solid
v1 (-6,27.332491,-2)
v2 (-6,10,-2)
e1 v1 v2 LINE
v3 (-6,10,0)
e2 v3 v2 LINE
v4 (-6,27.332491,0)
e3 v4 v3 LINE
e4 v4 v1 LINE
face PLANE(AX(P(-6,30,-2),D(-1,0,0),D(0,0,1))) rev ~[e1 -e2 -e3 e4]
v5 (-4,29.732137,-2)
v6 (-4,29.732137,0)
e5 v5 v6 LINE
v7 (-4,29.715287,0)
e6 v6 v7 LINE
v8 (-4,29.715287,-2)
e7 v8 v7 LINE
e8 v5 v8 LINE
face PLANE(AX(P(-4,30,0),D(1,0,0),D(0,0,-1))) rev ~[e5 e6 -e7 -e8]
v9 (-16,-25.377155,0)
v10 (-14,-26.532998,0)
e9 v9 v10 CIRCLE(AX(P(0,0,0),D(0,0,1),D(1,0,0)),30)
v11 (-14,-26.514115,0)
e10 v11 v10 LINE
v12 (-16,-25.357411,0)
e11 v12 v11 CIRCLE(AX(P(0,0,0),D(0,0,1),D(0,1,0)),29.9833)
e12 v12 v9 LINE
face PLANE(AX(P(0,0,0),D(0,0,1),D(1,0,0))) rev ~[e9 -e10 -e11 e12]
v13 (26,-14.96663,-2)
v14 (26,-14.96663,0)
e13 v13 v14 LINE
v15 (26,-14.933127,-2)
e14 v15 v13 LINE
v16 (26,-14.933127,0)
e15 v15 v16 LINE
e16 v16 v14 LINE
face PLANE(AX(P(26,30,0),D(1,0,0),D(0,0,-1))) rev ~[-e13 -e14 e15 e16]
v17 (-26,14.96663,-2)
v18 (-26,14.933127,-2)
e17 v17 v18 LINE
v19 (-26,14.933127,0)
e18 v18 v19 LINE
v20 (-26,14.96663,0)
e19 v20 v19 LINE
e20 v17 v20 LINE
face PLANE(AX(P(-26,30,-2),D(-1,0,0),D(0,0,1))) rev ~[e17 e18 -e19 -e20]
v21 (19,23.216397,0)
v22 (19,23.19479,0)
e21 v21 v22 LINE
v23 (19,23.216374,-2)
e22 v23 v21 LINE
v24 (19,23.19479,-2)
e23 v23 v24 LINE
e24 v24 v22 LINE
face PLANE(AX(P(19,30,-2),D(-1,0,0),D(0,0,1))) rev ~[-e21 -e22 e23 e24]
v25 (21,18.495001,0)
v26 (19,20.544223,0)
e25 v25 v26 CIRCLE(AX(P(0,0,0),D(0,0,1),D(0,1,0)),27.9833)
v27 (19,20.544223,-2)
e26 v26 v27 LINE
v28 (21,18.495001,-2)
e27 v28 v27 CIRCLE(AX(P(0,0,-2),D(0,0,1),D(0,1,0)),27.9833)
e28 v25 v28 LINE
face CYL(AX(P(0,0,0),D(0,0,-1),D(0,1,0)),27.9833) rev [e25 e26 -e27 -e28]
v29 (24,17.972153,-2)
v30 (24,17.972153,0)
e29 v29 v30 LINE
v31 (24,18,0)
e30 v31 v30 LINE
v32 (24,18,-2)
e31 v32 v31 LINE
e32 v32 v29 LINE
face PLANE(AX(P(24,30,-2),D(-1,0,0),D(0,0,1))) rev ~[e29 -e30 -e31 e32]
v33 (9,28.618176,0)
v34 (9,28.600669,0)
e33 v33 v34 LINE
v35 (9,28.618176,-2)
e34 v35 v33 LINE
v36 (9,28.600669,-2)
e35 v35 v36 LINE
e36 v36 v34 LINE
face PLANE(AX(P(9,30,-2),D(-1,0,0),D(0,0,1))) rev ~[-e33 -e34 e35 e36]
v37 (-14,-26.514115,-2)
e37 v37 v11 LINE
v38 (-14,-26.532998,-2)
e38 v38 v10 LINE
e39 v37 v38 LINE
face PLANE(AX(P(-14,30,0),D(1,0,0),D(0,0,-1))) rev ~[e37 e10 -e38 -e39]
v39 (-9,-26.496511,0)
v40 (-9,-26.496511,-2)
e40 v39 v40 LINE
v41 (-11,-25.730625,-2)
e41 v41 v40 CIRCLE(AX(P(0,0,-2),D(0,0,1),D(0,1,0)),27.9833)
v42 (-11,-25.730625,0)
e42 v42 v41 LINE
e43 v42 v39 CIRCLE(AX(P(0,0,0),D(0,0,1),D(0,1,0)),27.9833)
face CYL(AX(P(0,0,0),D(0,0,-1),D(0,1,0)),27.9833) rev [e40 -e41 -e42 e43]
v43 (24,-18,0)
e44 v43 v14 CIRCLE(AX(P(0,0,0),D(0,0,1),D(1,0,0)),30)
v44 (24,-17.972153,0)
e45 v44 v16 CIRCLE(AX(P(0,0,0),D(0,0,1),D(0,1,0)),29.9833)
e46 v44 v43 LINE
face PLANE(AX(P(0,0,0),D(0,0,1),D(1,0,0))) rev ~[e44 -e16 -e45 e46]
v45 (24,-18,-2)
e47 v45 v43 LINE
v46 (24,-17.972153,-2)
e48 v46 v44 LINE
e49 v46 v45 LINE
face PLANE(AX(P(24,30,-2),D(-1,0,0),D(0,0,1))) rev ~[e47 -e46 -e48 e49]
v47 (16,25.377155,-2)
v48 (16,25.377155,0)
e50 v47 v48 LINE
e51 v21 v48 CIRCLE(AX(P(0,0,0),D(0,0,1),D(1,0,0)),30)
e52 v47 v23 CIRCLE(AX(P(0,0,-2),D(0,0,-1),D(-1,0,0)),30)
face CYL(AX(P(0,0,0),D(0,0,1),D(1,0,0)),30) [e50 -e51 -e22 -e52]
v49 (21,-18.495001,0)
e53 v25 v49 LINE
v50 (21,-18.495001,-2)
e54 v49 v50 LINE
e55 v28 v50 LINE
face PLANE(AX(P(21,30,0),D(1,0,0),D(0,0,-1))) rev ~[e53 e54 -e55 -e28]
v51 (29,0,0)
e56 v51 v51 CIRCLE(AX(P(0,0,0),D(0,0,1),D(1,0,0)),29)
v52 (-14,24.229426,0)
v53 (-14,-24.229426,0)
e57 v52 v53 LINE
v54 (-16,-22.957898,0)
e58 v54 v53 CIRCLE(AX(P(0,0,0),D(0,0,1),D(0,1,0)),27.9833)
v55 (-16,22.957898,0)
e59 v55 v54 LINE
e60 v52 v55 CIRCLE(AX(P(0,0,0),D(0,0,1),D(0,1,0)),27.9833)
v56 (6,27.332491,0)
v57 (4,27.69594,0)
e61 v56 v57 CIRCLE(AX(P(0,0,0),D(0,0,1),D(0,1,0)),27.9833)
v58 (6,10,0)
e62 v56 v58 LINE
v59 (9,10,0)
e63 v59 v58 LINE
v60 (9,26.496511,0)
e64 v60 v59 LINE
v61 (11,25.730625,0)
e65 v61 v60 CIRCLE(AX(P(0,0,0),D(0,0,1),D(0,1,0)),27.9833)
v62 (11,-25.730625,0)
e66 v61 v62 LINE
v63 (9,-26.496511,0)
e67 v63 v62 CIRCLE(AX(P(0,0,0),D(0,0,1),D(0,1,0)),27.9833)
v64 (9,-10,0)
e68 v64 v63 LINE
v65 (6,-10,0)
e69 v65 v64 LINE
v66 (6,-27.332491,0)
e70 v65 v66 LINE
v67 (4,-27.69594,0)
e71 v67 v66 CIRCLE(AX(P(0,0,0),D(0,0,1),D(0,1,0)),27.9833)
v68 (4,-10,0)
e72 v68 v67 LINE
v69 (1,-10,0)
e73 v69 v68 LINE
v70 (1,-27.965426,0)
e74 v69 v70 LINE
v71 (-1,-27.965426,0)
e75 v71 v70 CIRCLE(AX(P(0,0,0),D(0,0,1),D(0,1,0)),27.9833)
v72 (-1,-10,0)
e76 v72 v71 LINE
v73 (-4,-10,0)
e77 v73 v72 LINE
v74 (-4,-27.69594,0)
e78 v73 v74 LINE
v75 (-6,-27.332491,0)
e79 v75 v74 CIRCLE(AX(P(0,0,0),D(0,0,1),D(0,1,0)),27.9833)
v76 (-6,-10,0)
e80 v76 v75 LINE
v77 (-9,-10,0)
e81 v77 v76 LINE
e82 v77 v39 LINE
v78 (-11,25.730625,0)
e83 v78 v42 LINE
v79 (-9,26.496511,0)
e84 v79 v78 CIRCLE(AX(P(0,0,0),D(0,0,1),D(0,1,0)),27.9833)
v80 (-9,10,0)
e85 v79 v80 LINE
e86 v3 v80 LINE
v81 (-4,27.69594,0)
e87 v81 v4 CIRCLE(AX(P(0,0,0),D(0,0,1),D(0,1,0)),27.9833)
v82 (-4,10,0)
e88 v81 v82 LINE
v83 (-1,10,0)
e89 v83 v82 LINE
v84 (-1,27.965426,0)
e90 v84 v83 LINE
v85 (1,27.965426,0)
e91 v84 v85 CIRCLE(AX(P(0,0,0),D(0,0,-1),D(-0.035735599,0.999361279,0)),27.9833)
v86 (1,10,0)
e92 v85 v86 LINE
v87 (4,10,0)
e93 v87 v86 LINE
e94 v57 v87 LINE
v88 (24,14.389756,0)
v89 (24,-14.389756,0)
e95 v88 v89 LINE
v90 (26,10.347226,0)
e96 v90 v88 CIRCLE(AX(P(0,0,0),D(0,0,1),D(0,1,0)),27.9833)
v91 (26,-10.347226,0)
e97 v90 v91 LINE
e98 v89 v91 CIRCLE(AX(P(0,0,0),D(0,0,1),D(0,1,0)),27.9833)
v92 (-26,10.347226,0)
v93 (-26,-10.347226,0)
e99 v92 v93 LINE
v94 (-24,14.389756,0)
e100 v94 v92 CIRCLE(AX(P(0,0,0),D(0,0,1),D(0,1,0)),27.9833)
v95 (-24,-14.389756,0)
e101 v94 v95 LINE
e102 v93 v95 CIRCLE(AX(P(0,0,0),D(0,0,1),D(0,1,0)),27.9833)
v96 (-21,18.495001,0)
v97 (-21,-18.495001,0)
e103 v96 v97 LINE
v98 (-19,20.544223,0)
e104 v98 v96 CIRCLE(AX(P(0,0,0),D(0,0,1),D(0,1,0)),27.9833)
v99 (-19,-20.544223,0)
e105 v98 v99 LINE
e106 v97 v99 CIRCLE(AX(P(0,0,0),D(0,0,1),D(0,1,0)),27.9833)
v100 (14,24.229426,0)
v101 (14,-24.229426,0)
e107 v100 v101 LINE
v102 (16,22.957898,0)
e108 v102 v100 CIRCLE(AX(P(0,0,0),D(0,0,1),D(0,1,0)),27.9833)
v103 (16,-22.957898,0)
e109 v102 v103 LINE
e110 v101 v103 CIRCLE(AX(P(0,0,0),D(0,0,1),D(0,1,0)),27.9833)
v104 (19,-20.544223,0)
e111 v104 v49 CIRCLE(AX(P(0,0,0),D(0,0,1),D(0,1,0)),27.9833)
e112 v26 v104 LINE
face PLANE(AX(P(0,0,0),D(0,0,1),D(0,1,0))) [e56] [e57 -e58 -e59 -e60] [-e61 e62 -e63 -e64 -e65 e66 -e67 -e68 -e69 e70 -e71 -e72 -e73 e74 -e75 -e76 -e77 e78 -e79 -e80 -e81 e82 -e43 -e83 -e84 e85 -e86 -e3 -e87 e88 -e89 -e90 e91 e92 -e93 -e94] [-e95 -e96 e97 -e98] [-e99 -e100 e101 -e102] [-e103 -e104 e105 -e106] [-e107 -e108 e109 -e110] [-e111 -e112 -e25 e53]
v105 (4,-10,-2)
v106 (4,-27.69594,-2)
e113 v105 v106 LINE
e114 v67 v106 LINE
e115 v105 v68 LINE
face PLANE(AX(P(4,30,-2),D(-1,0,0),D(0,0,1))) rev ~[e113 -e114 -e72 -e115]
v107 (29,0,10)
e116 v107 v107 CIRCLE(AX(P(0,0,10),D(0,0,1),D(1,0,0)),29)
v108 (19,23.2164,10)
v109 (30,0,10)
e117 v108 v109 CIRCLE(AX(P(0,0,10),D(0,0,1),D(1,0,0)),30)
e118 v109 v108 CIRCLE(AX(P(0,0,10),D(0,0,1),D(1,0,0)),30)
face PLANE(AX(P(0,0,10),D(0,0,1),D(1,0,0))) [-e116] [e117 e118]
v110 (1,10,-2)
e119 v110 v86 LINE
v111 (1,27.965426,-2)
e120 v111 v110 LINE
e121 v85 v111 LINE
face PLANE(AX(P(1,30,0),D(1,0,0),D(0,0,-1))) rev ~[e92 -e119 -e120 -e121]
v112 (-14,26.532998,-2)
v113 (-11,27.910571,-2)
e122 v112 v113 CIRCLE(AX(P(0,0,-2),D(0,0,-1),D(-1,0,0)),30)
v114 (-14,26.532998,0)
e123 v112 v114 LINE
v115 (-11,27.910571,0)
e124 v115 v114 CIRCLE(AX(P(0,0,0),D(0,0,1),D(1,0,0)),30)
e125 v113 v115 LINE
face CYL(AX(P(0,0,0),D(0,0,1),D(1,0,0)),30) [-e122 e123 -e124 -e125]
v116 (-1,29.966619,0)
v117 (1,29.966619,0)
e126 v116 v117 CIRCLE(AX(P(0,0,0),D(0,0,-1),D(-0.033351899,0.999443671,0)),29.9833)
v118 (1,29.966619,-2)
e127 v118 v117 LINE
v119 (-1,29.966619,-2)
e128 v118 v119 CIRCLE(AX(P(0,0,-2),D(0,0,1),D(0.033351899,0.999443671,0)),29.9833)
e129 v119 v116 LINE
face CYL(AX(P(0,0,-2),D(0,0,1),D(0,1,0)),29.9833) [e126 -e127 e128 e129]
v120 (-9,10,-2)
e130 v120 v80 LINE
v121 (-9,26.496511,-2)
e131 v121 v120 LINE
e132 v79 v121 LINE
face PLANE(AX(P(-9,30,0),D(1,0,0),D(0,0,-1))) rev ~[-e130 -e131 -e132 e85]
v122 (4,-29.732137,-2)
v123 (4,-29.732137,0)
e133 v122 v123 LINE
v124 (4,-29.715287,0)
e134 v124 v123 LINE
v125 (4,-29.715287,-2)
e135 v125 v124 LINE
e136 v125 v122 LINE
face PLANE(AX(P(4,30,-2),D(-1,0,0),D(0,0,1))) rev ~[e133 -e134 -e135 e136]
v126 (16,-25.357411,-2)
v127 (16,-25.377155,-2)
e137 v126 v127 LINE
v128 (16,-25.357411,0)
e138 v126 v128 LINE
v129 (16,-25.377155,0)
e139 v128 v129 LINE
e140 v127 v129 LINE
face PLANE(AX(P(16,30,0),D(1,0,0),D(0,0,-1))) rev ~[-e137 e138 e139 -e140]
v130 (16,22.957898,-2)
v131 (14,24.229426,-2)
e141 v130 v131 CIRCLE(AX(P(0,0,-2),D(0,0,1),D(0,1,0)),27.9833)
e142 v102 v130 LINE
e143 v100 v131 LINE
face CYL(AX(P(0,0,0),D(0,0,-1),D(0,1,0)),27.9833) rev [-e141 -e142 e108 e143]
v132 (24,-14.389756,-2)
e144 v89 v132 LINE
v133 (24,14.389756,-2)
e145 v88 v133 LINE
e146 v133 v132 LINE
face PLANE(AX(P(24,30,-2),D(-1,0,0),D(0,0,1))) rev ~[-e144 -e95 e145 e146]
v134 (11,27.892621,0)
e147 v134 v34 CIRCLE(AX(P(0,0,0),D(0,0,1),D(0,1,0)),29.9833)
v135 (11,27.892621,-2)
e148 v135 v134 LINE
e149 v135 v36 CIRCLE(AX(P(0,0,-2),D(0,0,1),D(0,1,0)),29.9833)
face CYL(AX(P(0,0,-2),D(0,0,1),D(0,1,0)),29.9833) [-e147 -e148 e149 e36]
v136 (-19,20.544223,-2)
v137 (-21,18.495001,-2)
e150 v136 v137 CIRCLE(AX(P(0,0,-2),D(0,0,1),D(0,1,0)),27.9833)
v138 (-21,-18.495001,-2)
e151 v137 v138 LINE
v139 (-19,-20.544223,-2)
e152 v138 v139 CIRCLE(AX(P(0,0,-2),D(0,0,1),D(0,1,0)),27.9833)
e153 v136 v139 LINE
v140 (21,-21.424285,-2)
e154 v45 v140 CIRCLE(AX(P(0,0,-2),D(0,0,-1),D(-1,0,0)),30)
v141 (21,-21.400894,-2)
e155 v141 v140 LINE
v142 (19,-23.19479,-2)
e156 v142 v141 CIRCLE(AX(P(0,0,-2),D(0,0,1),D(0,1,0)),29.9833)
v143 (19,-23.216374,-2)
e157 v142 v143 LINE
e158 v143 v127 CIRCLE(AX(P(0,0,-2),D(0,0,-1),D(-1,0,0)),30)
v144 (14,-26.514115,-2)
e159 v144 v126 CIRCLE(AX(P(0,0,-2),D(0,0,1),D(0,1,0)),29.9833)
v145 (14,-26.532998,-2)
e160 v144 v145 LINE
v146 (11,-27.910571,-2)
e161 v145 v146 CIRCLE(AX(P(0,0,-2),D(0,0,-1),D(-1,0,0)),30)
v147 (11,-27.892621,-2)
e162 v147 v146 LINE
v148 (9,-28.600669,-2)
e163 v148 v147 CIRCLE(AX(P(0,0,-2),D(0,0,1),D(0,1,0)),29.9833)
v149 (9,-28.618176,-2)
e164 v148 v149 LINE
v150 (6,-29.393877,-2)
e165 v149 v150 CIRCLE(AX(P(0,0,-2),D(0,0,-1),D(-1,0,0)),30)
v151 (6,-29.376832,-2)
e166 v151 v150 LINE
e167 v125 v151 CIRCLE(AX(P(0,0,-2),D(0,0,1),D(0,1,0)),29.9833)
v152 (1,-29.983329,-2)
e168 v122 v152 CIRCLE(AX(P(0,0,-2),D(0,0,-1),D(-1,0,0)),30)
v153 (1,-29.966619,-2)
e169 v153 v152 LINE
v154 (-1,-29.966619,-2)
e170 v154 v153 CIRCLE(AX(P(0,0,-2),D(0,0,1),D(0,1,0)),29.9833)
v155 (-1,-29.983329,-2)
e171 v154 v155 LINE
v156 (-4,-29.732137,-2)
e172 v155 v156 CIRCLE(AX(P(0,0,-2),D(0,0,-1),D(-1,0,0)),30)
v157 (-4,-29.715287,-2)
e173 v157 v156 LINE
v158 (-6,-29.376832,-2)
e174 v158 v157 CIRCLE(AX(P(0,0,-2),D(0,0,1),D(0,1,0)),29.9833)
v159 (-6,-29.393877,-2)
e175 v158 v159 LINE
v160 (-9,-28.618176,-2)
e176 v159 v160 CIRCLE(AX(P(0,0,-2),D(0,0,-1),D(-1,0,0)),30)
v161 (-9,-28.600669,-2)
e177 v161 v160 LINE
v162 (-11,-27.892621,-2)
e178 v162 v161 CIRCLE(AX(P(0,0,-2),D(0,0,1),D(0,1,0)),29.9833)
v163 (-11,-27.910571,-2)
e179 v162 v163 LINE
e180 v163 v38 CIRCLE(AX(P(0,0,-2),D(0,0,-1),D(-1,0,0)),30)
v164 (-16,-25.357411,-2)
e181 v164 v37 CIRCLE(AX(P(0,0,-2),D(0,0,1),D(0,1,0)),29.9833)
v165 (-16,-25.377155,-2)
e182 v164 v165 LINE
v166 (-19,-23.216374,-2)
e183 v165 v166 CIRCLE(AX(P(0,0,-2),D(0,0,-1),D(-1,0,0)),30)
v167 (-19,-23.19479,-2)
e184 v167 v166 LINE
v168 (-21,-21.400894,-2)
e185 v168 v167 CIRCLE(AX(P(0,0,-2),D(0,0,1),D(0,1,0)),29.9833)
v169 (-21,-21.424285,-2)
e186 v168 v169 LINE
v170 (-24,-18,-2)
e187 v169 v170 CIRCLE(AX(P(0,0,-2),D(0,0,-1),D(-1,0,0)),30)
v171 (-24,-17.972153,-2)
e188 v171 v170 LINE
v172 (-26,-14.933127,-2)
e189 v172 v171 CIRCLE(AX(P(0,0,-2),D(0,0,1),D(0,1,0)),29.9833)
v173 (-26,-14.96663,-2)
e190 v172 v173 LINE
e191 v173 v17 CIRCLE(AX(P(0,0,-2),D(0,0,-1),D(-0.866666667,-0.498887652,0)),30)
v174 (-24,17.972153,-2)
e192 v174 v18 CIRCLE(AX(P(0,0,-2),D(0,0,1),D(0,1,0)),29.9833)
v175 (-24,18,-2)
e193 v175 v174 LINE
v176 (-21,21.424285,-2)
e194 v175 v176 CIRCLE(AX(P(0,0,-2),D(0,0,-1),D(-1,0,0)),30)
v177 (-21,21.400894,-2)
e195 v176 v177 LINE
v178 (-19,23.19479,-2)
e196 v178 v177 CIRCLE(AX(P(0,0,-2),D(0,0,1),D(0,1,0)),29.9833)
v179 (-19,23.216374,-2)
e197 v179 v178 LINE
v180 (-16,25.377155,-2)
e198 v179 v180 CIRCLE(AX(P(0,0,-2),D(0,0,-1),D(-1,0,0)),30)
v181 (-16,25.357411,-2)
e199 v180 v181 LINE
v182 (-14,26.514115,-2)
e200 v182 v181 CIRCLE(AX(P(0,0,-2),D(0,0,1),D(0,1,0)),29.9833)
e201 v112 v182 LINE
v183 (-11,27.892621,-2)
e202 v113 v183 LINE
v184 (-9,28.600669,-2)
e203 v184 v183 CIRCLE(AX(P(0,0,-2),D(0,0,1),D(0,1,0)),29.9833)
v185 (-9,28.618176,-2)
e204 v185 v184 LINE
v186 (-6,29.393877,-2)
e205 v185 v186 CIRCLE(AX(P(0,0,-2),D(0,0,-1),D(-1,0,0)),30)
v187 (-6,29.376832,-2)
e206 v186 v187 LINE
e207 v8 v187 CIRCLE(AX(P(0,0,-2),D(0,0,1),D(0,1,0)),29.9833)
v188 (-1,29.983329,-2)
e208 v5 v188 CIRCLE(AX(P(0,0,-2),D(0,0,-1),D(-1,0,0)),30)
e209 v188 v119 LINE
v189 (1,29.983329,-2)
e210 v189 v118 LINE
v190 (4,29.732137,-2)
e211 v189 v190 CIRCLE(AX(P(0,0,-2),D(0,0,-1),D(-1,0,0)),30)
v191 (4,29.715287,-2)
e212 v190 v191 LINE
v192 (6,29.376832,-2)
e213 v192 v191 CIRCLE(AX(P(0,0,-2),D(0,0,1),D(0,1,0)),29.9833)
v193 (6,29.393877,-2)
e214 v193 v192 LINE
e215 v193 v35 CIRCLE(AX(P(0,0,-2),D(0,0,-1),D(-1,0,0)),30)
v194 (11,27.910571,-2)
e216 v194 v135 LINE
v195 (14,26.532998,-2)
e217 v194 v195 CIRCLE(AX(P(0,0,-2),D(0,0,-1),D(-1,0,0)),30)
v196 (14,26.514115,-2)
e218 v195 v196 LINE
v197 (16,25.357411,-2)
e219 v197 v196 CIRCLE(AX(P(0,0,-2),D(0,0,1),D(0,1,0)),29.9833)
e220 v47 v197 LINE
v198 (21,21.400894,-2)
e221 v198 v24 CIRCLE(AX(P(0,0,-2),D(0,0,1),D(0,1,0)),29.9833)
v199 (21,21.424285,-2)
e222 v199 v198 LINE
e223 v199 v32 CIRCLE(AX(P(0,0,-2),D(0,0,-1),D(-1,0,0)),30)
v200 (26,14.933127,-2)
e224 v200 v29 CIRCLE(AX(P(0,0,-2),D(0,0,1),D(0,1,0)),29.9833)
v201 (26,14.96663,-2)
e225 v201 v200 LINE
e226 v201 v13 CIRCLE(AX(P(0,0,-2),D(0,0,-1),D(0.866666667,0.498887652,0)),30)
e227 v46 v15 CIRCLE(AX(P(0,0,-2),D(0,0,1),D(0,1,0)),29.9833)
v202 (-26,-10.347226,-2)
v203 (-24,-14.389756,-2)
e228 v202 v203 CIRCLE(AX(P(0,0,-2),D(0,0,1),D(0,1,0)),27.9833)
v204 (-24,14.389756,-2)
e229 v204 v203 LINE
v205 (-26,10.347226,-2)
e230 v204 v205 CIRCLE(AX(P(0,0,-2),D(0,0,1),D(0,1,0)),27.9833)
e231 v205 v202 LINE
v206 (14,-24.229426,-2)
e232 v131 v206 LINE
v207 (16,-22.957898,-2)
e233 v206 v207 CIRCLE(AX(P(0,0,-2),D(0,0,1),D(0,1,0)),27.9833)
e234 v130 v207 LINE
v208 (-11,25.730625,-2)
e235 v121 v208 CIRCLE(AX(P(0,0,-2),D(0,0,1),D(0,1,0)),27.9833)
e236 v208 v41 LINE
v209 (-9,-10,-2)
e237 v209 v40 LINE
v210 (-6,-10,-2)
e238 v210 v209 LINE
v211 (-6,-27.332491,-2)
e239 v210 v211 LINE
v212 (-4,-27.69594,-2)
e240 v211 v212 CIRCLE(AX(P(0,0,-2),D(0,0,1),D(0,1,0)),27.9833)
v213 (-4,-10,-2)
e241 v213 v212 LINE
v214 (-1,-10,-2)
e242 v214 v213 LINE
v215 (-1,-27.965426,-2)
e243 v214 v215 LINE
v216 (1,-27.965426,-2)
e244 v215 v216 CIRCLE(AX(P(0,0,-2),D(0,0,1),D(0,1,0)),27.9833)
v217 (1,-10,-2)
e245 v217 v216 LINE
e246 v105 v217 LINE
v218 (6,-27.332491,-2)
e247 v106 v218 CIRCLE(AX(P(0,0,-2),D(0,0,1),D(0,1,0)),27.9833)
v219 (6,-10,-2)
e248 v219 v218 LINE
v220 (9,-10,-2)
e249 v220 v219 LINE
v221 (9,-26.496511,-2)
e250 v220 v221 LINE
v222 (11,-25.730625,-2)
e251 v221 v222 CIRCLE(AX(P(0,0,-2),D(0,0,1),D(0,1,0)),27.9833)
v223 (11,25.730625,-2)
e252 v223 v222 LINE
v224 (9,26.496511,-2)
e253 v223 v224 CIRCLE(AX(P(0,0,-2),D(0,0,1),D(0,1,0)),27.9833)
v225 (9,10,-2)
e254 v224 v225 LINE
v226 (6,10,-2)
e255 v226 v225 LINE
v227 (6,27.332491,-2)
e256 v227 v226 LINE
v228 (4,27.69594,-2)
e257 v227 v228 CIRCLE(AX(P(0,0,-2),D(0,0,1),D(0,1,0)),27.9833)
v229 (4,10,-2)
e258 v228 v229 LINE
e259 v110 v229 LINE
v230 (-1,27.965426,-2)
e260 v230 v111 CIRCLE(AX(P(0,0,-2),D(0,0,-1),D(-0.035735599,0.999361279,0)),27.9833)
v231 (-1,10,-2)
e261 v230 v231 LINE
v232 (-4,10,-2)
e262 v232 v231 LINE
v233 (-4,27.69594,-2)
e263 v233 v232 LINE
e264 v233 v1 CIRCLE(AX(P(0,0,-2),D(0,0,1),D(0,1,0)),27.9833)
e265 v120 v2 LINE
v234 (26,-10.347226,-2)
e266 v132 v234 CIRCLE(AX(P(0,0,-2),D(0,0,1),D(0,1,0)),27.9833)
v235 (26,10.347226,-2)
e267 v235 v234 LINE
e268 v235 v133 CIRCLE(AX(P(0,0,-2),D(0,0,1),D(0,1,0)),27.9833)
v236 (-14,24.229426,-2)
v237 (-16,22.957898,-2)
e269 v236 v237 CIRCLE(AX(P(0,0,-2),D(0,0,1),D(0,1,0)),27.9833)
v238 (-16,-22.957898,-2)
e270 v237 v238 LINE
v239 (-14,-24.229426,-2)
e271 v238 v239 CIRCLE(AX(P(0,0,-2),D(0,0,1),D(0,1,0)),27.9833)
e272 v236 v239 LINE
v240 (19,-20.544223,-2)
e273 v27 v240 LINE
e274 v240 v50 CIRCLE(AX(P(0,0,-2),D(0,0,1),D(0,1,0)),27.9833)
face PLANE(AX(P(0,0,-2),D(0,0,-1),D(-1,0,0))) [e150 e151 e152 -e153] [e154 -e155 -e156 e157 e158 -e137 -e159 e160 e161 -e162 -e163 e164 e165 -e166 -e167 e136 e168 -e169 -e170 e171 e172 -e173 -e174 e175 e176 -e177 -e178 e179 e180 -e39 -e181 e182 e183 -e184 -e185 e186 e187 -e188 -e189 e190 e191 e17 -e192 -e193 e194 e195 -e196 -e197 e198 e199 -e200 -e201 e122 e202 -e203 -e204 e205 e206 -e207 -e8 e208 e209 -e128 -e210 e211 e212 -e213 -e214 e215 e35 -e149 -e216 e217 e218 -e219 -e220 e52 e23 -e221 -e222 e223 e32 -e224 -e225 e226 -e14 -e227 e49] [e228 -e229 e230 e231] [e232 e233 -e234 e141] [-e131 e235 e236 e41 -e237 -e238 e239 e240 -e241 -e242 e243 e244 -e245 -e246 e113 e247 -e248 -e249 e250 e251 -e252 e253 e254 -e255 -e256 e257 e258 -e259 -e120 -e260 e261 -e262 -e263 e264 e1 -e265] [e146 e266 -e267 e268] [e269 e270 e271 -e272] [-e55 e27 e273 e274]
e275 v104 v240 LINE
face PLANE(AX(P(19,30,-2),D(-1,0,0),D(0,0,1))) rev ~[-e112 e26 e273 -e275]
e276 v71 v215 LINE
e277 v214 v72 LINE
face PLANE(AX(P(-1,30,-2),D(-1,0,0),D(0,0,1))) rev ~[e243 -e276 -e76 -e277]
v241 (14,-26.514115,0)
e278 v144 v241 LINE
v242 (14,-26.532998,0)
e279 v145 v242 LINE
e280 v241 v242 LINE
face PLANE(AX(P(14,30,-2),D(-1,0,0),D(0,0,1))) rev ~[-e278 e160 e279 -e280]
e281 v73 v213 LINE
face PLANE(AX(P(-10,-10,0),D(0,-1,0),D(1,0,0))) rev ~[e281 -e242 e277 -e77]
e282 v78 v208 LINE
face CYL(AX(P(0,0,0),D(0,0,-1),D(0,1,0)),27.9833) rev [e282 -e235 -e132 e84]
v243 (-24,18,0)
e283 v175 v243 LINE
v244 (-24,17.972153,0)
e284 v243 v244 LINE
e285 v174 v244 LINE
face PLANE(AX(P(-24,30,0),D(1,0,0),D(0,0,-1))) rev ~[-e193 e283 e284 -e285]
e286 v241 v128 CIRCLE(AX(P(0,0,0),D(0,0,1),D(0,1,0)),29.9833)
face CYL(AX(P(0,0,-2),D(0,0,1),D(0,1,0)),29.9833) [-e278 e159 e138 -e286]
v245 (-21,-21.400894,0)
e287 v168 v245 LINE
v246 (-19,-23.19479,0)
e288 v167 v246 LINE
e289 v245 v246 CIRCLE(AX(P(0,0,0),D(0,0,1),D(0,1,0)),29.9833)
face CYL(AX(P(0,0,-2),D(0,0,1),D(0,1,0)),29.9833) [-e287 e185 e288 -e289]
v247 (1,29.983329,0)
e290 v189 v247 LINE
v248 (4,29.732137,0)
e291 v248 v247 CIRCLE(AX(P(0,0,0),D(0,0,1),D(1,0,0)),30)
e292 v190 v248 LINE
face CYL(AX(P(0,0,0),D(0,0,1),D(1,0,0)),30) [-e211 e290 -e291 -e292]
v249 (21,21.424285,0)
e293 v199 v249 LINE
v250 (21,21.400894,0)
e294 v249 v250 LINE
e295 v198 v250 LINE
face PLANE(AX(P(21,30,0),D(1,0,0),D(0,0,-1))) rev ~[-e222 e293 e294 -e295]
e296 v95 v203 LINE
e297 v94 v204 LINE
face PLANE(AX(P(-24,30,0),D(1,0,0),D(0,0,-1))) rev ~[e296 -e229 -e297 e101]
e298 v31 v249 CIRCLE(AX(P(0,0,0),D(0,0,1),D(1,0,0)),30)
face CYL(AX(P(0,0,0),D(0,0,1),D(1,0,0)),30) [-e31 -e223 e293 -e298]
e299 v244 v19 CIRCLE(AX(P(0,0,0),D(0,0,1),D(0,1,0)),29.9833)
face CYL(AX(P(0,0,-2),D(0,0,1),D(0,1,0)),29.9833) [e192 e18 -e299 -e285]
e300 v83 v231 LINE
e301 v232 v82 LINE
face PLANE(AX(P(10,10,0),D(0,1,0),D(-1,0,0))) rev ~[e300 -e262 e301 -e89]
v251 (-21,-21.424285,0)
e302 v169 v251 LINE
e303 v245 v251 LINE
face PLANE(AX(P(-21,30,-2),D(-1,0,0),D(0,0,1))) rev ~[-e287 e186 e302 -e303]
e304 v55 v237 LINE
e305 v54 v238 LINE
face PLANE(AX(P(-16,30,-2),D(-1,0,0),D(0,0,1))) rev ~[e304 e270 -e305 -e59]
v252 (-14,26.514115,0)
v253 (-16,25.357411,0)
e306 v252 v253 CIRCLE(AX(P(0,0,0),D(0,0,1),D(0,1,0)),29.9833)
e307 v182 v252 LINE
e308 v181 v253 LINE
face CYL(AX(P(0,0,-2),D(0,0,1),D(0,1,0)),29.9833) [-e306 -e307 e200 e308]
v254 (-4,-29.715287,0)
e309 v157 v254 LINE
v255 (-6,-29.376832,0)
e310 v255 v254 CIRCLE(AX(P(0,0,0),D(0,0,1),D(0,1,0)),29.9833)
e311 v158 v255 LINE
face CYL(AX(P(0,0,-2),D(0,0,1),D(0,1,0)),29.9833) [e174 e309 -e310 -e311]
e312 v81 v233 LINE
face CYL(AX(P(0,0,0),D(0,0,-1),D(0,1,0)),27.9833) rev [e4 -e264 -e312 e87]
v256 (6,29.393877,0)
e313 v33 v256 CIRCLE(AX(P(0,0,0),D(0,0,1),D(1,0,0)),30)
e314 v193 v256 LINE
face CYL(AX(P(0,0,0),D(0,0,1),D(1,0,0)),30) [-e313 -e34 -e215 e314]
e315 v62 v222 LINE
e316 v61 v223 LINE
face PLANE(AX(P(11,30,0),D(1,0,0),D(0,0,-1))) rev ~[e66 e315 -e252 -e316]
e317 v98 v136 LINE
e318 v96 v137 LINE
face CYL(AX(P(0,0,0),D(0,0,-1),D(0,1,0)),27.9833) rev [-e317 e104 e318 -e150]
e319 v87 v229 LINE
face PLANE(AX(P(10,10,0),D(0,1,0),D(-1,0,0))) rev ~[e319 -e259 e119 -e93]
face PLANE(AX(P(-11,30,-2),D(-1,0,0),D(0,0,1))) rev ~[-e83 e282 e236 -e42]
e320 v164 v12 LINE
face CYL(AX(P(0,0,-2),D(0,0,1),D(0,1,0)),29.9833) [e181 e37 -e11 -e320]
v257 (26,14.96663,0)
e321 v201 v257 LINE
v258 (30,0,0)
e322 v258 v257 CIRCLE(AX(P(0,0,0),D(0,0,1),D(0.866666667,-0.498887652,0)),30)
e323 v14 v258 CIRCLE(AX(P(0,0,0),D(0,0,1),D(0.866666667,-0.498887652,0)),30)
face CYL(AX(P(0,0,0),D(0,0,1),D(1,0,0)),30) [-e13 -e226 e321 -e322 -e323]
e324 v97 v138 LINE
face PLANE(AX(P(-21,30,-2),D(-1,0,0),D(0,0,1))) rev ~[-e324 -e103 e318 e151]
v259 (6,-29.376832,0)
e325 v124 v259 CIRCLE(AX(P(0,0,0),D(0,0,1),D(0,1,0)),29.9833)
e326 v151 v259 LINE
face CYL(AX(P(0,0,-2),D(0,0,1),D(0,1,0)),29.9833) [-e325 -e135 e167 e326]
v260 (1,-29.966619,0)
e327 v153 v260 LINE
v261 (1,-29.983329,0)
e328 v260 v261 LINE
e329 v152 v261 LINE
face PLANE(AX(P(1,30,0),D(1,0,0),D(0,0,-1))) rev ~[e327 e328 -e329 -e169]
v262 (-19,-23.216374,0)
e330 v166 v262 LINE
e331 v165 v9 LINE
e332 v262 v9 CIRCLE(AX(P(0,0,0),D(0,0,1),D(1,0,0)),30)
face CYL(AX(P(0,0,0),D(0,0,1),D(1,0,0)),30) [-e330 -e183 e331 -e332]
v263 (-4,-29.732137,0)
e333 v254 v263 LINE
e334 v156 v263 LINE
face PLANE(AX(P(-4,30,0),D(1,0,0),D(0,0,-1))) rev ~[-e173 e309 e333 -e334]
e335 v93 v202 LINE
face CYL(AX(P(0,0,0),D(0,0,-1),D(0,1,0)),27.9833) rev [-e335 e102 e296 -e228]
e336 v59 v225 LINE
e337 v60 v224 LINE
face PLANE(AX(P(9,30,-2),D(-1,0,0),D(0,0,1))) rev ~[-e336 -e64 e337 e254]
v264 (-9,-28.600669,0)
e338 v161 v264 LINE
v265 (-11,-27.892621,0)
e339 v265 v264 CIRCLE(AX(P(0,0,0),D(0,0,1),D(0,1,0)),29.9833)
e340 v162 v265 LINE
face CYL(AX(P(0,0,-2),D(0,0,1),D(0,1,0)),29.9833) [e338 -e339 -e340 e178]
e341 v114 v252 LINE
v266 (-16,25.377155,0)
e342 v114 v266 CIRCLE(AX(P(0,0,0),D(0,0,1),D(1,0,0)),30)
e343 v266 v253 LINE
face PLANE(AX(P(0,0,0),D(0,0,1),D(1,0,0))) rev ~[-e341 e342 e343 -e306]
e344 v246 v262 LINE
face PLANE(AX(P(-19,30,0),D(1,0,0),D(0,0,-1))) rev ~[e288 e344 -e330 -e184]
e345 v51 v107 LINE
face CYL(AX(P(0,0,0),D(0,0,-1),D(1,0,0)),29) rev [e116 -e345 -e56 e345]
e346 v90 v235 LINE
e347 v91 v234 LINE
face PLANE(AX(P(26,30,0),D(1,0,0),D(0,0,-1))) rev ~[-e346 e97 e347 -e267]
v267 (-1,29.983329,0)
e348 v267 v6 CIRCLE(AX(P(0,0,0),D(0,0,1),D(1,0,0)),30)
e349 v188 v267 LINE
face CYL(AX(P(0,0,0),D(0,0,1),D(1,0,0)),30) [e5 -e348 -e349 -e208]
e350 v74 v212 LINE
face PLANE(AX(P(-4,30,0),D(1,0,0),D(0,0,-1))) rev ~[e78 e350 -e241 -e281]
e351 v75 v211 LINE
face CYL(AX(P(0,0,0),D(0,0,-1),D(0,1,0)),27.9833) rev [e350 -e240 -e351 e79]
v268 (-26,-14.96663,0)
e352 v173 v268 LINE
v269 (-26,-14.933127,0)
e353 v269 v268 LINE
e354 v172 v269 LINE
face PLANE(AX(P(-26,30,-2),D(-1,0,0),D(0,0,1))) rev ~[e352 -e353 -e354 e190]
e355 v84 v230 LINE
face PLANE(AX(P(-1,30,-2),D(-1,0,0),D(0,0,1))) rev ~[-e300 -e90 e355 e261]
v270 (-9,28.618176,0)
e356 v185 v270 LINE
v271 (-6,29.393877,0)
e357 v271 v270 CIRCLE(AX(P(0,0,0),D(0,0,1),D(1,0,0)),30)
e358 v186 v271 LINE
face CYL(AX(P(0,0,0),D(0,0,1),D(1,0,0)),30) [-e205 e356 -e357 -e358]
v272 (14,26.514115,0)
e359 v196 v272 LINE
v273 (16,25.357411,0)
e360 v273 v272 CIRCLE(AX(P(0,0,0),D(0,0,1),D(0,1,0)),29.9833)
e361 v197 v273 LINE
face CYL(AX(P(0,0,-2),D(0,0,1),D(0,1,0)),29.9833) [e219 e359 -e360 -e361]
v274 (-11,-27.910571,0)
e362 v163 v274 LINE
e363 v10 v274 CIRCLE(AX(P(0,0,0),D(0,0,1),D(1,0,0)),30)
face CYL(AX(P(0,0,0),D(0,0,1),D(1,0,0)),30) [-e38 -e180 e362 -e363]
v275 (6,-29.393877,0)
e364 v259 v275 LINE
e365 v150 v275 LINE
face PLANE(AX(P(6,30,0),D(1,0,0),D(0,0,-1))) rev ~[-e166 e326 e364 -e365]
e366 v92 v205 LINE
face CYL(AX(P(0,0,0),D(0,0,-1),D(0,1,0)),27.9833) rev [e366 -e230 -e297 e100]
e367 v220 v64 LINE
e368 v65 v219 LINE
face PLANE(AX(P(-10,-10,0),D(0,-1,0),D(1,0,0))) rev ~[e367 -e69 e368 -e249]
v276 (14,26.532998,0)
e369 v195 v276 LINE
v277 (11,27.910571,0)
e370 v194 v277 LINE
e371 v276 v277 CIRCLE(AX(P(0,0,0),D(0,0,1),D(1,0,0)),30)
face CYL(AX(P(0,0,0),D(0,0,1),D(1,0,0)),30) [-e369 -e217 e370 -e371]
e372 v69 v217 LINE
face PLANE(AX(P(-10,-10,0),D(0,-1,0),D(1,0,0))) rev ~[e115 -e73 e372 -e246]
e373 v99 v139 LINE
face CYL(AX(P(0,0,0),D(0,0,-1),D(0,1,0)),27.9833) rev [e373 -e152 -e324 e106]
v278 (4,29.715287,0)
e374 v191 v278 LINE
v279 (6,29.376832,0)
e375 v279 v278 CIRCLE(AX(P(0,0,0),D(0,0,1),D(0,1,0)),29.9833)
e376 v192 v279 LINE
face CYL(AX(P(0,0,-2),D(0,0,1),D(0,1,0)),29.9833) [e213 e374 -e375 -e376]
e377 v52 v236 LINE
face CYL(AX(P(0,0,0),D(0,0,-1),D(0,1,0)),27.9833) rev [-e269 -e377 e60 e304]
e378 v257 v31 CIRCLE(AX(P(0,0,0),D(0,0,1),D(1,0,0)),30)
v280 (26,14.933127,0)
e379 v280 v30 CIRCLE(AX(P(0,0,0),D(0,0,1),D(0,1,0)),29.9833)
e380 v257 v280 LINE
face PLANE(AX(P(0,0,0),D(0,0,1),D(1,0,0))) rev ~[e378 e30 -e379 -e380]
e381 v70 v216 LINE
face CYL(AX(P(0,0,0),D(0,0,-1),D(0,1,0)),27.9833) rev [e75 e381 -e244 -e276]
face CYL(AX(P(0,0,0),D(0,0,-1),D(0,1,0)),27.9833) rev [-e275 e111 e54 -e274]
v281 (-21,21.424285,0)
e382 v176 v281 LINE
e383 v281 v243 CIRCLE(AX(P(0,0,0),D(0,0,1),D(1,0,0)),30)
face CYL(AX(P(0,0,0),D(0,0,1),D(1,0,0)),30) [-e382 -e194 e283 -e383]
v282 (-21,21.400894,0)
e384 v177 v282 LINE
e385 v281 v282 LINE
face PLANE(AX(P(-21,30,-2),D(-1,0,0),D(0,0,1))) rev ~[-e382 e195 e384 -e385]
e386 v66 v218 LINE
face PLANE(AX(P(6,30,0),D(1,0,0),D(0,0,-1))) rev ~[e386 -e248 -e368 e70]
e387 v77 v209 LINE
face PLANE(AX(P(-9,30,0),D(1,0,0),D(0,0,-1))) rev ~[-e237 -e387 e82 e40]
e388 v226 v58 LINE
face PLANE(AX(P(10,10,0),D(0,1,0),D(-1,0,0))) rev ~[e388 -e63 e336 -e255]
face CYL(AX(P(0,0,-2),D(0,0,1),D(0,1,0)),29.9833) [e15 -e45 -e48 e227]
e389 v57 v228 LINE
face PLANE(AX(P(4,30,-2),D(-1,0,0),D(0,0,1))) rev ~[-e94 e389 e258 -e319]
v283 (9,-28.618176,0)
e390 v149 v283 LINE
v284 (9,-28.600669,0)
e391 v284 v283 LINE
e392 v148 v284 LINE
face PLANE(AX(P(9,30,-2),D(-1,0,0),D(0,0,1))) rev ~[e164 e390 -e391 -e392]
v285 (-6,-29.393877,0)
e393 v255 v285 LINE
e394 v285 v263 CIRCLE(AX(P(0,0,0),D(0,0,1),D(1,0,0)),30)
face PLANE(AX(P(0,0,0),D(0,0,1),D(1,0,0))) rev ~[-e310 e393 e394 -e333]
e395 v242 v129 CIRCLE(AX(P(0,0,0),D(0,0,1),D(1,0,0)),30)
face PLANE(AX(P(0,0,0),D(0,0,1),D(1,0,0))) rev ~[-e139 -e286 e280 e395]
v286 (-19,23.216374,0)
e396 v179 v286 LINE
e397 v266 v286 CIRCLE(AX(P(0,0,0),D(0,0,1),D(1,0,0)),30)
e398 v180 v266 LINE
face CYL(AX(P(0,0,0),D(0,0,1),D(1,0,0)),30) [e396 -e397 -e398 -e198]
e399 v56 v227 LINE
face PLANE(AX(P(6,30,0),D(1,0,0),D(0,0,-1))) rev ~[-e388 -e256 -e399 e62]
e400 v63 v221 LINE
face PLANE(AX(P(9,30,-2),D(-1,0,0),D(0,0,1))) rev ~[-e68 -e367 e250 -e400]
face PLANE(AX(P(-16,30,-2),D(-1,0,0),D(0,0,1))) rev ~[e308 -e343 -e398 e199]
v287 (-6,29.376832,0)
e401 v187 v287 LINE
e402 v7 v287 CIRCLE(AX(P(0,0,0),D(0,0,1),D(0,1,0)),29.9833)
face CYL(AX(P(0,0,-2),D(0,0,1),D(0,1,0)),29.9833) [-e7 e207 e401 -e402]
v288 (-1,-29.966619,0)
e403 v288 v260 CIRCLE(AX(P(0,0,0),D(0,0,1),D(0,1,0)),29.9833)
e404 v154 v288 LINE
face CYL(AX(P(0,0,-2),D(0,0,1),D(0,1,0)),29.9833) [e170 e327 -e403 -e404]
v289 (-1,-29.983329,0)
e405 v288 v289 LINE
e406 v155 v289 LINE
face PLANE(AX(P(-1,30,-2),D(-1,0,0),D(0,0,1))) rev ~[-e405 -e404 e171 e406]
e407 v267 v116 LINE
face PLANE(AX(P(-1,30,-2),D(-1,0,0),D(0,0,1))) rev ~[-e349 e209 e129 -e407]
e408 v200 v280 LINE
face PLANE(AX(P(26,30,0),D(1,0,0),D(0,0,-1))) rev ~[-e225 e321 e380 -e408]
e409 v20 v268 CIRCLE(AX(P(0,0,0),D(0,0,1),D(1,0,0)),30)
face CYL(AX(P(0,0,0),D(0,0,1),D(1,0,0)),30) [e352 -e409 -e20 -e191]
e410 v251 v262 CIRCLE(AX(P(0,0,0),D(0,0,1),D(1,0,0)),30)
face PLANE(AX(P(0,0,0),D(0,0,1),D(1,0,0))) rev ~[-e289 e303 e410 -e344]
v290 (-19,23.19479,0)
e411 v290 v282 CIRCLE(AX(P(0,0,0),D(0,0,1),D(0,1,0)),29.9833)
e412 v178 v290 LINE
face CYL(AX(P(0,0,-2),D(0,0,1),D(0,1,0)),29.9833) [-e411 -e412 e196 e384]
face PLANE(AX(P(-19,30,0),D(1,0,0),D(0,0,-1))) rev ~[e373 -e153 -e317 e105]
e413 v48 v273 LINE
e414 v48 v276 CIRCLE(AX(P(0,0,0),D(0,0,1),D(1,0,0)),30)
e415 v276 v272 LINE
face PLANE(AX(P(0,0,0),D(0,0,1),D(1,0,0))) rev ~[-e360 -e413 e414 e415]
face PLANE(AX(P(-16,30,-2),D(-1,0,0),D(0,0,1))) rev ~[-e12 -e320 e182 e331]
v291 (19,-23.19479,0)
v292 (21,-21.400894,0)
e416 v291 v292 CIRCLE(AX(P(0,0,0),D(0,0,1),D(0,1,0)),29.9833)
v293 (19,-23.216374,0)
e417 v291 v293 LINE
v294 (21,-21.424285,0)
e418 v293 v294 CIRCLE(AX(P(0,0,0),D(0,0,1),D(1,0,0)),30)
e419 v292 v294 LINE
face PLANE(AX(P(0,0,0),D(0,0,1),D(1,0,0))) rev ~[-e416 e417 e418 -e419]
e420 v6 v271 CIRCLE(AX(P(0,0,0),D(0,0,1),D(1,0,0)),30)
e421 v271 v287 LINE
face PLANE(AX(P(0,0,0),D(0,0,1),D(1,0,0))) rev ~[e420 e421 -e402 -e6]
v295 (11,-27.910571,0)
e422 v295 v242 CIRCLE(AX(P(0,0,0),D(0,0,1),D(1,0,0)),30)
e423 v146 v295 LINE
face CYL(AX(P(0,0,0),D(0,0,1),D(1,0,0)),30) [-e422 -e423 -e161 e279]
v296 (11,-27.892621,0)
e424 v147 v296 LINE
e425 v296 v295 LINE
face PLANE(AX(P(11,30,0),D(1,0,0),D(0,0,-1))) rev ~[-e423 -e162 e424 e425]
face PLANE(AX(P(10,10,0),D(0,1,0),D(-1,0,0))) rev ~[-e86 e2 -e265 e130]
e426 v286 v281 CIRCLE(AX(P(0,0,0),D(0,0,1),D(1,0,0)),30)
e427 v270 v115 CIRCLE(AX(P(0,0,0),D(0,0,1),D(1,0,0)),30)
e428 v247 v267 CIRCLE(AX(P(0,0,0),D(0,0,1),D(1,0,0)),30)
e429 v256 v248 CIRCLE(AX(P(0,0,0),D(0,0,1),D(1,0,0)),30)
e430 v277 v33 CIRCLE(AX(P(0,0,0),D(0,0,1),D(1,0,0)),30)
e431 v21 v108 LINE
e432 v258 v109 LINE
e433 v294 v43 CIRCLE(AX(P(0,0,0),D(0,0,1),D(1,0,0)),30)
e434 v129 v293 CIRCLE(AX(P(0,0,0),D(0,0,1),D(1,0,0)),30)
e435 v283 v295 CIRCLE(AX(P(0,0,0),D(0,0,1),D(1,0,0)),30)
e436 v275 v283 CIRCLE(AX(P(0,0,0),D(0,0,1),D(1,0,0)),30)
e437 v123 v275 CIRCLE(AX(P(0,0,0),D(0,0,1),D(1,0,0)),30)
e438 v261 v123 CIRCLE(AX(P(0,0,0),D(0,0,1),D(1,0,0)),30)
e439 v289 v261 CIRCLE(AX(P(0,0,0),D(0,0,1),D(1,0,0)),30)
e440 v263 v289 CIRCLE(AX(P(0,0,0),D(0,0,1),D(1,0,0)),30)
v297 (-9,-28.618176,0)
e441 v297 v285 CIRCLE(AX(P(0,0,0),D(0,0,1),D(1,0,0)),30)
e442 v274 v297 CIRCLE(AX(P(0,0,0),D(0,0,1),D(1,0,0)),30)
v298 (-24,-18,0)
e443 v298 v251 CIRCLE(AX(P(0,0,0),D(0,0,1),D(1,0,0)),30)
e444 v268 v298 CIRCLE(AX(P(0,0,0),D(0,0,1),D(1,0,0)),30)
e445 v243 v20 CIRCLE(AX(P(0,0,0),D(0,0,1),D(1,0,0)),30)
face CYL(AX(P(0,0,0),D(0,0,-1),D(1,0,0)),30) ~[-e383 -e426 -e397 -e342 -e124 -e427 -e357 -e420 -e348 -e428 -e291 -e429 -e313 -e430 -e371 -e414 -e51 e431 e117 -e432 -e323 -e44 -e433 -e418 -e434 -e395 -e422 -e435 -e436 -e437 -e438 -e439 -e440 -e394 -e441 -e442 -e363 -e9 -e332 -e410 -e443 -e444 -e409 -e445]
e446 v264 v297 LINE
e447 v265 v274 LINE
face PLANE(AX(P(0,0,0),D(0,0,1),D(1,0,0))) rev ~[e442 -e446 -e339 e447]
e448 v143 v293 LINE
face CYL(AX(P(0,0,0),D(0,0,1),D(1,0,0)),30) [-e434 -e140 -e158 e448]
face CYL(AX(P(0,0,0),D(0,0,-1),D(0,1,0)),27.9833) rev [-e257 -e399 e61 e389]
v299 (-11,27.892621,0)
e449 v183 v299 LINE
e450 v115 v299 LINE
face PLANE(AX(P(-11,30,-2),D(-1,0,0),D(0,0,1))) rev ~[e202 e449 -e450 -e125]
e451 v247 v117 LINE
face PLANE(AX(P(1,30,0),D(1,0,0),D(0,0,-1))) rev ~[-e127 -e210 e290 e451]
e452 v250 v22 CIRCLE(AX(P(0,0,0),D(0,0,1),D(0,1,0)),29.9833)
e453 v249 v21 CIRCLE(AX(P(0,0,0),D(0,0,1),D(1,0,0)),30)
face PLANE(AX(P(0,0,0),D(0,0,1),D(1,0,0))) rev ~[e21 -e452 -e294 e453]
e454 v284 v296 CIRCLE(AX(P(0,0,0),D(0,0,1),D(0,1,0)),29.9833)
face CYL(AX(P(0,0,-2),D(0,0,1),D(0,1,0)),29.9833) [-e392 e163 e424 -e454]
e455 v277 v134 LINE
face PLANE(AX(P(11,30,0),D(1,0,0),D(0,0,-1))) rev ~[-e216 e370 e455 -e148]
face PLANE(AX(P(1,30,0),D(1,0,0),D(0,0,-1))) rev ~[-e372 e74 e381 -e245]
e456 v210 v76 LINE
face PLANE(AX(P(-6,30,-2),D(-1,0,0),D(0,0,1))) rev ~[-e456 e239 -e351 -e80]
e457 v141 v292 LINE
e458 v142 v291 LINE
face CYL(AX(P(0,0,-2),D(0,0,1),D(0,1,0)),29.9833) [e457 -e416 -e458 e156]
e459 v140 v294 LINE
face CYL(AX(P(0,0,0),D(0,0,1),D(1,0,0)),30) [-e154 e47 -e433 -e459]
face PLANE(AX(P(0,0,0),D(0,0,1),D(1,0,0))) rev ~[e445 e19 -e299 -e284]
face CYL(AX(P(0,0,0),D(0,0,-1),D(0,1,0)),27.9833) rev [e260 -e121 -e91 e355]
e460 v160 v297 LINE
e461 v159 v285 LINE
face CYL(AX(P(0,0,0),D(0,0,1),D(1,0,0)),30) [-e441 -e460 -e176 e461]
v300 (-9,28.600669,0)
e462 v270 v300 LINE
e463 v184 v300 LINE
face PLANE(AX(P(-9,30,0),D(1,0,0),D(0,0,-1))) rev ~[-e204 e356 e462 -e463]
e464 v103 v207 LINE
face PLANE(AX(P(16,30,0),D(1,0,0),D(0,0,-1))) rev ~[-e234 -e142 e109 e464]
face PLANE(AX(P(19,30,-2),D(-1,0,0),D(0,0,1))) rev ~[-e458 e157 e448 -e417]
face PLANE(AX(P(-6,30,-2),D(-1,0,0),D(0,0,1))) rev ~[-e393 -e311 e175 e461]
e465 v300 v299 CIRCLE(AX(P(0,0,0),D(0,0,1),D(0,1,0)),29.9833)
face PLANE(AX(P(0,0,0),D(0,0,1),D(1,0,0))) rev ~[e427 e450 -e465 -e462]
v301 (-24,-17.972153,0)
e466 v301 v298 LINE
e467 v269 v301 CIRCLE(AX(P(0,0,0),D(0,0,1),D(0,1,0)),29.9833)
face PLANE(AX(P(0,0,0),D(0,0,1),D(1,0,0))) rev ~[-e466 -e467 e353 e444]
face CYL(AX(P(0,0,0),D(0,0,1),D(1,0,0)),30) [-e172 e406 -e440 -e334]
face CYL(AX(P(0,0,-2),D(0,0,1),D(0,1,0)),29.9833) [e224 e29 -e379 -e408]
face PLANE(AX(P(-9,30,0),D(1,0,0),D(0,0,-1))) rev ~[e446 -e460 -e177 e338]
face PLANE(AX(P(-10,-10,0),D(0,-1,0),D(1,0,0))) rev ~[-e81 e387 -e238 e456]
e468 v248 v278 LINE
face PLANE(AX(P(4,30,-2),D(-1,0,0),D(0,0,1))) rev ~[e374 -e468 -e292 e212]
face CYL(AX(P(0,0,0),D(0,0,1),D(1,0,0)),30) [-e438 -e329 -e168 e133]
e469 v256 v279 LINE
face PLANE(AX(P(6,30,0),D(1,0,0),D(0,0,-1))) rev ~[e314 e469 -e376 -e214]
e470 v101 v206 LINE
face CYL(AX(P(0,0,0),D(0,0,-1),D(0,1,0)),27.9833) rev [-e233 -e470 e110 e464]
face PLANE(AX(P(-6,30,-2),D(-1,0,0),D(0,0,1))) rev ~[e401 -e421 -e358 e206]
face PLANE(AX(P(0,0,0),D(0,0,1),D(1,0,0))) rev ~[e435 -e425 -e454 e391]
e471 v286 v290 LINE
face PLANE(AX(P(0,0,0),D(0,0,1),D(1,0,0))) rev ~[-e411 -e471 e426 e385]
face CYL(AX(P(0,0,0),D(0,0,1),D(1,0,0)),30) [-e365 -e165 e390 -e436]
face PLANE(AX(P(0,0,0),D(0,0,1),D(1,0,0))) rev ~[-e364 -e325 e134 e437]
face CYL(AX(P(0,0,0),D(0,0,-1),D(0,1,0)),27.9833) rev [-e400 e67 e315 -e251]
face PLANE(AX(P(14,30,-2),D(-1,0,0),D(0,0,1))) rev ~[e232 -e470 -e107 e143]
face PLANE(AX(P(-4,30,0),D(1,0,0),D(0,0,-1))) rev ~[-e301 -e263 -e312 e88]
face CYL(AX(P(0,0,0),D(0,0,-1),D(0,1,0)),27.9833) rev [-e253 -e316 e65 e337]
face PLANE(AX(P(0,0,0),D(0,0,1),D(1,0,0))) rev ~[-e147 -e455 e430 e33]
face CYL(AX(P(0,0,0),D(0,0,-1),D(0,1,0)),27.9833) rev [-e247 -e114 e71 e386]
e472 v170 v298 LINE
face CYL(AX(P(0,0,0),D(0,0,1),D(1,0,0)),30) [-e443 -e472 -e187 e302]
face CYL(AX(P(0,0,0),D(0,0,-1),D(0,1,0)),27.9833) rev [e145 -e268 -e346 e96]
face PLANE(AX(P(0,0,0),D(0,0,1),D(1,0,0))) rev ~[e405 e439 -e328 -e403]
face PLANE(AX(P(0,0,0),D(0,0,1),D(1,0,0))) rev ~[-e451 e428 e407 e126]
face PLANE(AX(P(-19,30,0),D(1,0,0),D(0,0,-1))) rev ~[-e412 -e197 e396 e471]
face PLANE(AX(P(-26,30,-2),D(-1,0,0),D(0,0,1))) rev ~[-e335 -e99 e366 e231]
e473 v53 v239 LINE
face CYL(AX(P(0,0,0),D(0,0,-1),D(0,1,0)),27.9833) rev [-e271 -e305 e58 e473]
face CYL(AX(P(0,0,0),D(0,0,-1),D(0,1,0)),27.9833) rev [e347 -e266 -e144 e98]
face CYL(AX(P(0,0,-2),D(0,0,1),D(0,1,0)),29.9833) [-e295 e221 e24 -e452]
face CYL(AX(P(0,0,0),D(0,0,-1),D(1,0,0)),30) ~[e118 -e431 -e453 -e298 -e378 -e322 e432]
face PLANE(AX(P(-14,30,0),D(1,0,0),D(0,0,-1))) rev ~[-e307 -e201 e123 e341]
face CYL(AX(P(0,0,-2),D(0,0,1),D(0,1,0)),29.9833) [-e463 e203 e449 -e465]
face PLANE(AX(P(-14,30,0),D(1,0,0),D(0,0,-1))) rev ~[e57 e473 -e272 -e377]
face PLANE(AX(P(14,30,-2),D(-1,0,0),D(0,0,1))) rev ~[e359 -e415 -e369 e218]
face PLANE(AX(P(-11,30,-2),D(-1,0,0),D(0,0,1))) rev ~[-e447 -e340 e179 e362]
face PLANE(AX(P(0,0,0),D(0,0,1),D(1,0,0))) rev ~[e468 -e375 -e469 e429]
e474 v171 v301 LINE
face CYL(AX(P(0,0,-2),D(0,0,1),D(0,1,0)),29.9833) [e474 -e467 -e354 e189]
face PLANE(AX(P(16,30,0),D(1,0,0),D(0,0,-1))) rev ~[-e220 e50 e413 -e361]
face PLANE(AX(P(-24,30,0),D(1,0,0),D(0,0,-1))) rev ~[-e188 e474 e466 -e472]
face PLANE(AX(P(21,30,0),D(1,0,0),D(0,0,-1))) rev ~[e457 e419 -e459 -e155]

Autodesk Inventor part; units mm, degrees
ref_plane "YZ Plane" through (0, 0, 0) normal (1, 0, 0) x (0, 1, 0)
ref_plane "XY Plane" through (0, 0, 0) normal (0, 0, 1) x (1, 0, 0)
sketch "Sketch1" plane through (0, 0, 0) normal (0, 0, 1) x (1, 0, 0)
  circle A0 centre (0, 0) radius 30
  dimension "d0" = 60
extrude "Extrusion1" add sketch "Sketch1" against normal blind 10
sketch "Sketch2" plane through (0, 0, -10) normal (0, 0, -1) x (-1, 0, 0)
  circle A0 centre (0, 0) radius 29
  dimension "d3" = 58
extrude "Extrusion2" cut sketch "Sketch2" against normal blind 8
ref_plane "Work Plane1" through (0, 30, 0) normal (0, 1, 0) x (-1, 0, 0)
sketch "Sketch3" plane through (0, 30, 0) normal (0, 1, 0) x (-1, 0, 0)
  line L0 (30, 0) -> (30, -10) projected
  line L1 (30, 0) -> (26, 0)
  line L2 (30, 0) -> (-30, 0) projected
  line L3 (26, 0) -> (24, 0)
  line L4 (24, 0) -> (24, -2)
  line L5 (24, -2) -> (26, -2)
  line L6 (26, -2) -> (26, 0)
  line L7 (24, 0) -> (21, 0)
  line L8 (21, 0) -> (19, 0)
  line L9 (19, 0) -> (19, -2)
  line L10 (19, -2) -> (21, -2)
  line L11 (21, -2) -> (21, 0)
  line L12 (19, 0) -> (16, 0)
  line L13 (16, 0) -> (14, 0)
  line L14 (14, 0) -> (14, -2)
  line L15 (14, -2) -> (16, -2)
  line L16 (16, -2) -> (16, 0)
  line L17 (14, 0) -> (11, 0)
  line L18 (11, 0) -> (9, 0)
  line L19 (9, 0) -> (9, -2)
  line L20 (9, -2) -> (11, -2)
  line L21 (11, -2) -> (11, 0)
  line L22 (9, 0) -> (6, 0)
  line L23 (6, 0) -> (4, 0)
  line L24 (4, 0) -> (4, -2)
  line L25 (4, -2) -> (6, -2)
  line L26 (6, -2) -> (6, 0)
  line L27 (4, 0) -> (1, 0)
  line L28 (1, 0) -> (-1, 0)
  line L29 (-1, 0) -> (-1, -2)
  line L30 (-1, -2) -> (1, -2)
  line L31 (1, -2) -> (1, 0)
  line L32 (-1, 0) -> (-4, 0)
  line L33 (-4, 0) -> (-6, 0)
  line L34 (-6, 0) -> (-6, -2)
  line L35 (-6, -2) -> (-4, -2)
  line L36 (-4, -2) -> (-4, 0)
  line L37 (-6, 0) -> (-9, 0)
  line L38 (-9, 0) -> (-11, 0)
  line L39 (-11, 0) -> (-11, -2)
  line L40 (-11, -2) -> (-9, -2)
  line L41 (-9, -2) -> (-9, 0)
  line L42 (-11, 0) -> (-14, 0)
  line L43 (-14, 0) -> (-16, 0)
  line L44 (-16, 0) -> (-16, -2)
  line L45 (-16, -2) -> (-14, -2)
  line L46 (-14, -2) -> (-14, 0)
  line L47 (-16, 0) -> (-19, 0)
  line L48 (-19, 0) -> (-21, 0)
  line L49 (-21, 0) -> (-21, -2)
  line L50 (-21, -2) -> (-19, -2)
  line L51 (-19, -2) -> (-19, 0)
  line L52 (-21, 0) -> (-24, 0)
  line L53 (-24, 0) -> (-26, 0)
  line L54 (-26, 0) -> (-26, -2)
  line L55 (-26, -2) -> (-24, -2)
  line L56 (-24, -2) -> (-24, 0)
  point P0 (0, 0)
  dimension "d7" = 4
  dimension "d8" = 2
  dimension "d9" = 2
  dimension "d10" = 3
  dimension "d11" = 2
  dimension "d12" = 2
  dimension "d13" = 3
  dimension "d14" = 2
  dimension "d15" = 2
  dimension "d16" = 3
  dimension "d17" = 2
  dimension "d18" = 2
  dimension "d19" = 3
  dimension "d20" = 2
  dimension "d21" = 2
  dimension "d22" = 3
  dimension "d23" = 2
  dimension "d24" = 2
  dimension "d25" = 3
  dimension "d26" = 2
  dimension "d27" = 2
  dimension "d28" = 3
  dimension "d29" = 2
  dimension "d30" = 2
  dimension "d31" = 3
  dimension "d32" = 2
  dimension "d33" = 2
  dimension "d34" = 3
  dimension "d35" = 2
  dimension "d36" = 2
  dimension "d37" = 3
  dimension "d38" = 2
  dimension "d39" = 2
extrude "Extrusion3" cut sketch "Sketch3" against normal through all
sketch "Sketch4" plane through (0, 0, -10) normal (0, 0, -1) x (-1, 0, 0)
  circle A0 centre (0, 0) radius 30
  circle A1 centre (0, 0) radius 29
  dimension "d42" = 1
sketch "Sketch6" plane through (0, 0, 0) normal (1, 0, 0) x (0, 1, 0)
  line L0 (29.9833, 0) -> (29.7321, 0) projected
  line L1 (29.9833, 0) -> (27.9833, 0)
  line L2 (27.9833, 0) -> (27.9833, -2)
  line L3 (27.9833, -2) -> (29.9833, -2)
  line L4 (29.9833, -2) -> (29.9833, 0)
  line L5 (0, -17.9967) -> (0, 37.98) projected
  point P0 (0, 0)
  point P1 (0, 29.9833)
  dimension "d51" = 2
  dimension "d52" = 2
revolve "Revolution1" add sketch "Sketch6" angle 360 about axis through (0, 0, -10) along (0, 0, 1)
extrude "Extrusion4" cut sketch "Sketch4" against normal blind 8
sketch "Sketch7" plane through (0, 0, 0) normal (0, 0, 1) x (1, 0, 0)
  line L0 (10, 0) -> (20, 0) construction
  line L1 (10, 10) -> (-10, 10)
  line L2 (-10, 10) -> (-10, -10)
  line L3 (-10, -10) -> (10, -10)
  line L4 (10, -10) -> (10, 10)
  point P0 (0, 0)
  dimension "d59" = 10
  dimension "d60" = 10
  dimension "d62" = 20
  dimension "d63" = 20
extrude "Extrusion6" cut sketch "Sketch7" against normal through all
sketch "Sketch9" plane through (0, 0, 0) normal (0, 0, 1) x (1, 0, 0)
  line L0 (19, 23.1948) -> (19, 23.2164) projected
  circle A0 centre (0, 0) radius 30
  circle A1 centre (0, 0) radius 29
  dimension "d68" = 1
extrude "Extrusion8" add sketch "Sketch9" along normal blind 10
properties part number "fan back"
